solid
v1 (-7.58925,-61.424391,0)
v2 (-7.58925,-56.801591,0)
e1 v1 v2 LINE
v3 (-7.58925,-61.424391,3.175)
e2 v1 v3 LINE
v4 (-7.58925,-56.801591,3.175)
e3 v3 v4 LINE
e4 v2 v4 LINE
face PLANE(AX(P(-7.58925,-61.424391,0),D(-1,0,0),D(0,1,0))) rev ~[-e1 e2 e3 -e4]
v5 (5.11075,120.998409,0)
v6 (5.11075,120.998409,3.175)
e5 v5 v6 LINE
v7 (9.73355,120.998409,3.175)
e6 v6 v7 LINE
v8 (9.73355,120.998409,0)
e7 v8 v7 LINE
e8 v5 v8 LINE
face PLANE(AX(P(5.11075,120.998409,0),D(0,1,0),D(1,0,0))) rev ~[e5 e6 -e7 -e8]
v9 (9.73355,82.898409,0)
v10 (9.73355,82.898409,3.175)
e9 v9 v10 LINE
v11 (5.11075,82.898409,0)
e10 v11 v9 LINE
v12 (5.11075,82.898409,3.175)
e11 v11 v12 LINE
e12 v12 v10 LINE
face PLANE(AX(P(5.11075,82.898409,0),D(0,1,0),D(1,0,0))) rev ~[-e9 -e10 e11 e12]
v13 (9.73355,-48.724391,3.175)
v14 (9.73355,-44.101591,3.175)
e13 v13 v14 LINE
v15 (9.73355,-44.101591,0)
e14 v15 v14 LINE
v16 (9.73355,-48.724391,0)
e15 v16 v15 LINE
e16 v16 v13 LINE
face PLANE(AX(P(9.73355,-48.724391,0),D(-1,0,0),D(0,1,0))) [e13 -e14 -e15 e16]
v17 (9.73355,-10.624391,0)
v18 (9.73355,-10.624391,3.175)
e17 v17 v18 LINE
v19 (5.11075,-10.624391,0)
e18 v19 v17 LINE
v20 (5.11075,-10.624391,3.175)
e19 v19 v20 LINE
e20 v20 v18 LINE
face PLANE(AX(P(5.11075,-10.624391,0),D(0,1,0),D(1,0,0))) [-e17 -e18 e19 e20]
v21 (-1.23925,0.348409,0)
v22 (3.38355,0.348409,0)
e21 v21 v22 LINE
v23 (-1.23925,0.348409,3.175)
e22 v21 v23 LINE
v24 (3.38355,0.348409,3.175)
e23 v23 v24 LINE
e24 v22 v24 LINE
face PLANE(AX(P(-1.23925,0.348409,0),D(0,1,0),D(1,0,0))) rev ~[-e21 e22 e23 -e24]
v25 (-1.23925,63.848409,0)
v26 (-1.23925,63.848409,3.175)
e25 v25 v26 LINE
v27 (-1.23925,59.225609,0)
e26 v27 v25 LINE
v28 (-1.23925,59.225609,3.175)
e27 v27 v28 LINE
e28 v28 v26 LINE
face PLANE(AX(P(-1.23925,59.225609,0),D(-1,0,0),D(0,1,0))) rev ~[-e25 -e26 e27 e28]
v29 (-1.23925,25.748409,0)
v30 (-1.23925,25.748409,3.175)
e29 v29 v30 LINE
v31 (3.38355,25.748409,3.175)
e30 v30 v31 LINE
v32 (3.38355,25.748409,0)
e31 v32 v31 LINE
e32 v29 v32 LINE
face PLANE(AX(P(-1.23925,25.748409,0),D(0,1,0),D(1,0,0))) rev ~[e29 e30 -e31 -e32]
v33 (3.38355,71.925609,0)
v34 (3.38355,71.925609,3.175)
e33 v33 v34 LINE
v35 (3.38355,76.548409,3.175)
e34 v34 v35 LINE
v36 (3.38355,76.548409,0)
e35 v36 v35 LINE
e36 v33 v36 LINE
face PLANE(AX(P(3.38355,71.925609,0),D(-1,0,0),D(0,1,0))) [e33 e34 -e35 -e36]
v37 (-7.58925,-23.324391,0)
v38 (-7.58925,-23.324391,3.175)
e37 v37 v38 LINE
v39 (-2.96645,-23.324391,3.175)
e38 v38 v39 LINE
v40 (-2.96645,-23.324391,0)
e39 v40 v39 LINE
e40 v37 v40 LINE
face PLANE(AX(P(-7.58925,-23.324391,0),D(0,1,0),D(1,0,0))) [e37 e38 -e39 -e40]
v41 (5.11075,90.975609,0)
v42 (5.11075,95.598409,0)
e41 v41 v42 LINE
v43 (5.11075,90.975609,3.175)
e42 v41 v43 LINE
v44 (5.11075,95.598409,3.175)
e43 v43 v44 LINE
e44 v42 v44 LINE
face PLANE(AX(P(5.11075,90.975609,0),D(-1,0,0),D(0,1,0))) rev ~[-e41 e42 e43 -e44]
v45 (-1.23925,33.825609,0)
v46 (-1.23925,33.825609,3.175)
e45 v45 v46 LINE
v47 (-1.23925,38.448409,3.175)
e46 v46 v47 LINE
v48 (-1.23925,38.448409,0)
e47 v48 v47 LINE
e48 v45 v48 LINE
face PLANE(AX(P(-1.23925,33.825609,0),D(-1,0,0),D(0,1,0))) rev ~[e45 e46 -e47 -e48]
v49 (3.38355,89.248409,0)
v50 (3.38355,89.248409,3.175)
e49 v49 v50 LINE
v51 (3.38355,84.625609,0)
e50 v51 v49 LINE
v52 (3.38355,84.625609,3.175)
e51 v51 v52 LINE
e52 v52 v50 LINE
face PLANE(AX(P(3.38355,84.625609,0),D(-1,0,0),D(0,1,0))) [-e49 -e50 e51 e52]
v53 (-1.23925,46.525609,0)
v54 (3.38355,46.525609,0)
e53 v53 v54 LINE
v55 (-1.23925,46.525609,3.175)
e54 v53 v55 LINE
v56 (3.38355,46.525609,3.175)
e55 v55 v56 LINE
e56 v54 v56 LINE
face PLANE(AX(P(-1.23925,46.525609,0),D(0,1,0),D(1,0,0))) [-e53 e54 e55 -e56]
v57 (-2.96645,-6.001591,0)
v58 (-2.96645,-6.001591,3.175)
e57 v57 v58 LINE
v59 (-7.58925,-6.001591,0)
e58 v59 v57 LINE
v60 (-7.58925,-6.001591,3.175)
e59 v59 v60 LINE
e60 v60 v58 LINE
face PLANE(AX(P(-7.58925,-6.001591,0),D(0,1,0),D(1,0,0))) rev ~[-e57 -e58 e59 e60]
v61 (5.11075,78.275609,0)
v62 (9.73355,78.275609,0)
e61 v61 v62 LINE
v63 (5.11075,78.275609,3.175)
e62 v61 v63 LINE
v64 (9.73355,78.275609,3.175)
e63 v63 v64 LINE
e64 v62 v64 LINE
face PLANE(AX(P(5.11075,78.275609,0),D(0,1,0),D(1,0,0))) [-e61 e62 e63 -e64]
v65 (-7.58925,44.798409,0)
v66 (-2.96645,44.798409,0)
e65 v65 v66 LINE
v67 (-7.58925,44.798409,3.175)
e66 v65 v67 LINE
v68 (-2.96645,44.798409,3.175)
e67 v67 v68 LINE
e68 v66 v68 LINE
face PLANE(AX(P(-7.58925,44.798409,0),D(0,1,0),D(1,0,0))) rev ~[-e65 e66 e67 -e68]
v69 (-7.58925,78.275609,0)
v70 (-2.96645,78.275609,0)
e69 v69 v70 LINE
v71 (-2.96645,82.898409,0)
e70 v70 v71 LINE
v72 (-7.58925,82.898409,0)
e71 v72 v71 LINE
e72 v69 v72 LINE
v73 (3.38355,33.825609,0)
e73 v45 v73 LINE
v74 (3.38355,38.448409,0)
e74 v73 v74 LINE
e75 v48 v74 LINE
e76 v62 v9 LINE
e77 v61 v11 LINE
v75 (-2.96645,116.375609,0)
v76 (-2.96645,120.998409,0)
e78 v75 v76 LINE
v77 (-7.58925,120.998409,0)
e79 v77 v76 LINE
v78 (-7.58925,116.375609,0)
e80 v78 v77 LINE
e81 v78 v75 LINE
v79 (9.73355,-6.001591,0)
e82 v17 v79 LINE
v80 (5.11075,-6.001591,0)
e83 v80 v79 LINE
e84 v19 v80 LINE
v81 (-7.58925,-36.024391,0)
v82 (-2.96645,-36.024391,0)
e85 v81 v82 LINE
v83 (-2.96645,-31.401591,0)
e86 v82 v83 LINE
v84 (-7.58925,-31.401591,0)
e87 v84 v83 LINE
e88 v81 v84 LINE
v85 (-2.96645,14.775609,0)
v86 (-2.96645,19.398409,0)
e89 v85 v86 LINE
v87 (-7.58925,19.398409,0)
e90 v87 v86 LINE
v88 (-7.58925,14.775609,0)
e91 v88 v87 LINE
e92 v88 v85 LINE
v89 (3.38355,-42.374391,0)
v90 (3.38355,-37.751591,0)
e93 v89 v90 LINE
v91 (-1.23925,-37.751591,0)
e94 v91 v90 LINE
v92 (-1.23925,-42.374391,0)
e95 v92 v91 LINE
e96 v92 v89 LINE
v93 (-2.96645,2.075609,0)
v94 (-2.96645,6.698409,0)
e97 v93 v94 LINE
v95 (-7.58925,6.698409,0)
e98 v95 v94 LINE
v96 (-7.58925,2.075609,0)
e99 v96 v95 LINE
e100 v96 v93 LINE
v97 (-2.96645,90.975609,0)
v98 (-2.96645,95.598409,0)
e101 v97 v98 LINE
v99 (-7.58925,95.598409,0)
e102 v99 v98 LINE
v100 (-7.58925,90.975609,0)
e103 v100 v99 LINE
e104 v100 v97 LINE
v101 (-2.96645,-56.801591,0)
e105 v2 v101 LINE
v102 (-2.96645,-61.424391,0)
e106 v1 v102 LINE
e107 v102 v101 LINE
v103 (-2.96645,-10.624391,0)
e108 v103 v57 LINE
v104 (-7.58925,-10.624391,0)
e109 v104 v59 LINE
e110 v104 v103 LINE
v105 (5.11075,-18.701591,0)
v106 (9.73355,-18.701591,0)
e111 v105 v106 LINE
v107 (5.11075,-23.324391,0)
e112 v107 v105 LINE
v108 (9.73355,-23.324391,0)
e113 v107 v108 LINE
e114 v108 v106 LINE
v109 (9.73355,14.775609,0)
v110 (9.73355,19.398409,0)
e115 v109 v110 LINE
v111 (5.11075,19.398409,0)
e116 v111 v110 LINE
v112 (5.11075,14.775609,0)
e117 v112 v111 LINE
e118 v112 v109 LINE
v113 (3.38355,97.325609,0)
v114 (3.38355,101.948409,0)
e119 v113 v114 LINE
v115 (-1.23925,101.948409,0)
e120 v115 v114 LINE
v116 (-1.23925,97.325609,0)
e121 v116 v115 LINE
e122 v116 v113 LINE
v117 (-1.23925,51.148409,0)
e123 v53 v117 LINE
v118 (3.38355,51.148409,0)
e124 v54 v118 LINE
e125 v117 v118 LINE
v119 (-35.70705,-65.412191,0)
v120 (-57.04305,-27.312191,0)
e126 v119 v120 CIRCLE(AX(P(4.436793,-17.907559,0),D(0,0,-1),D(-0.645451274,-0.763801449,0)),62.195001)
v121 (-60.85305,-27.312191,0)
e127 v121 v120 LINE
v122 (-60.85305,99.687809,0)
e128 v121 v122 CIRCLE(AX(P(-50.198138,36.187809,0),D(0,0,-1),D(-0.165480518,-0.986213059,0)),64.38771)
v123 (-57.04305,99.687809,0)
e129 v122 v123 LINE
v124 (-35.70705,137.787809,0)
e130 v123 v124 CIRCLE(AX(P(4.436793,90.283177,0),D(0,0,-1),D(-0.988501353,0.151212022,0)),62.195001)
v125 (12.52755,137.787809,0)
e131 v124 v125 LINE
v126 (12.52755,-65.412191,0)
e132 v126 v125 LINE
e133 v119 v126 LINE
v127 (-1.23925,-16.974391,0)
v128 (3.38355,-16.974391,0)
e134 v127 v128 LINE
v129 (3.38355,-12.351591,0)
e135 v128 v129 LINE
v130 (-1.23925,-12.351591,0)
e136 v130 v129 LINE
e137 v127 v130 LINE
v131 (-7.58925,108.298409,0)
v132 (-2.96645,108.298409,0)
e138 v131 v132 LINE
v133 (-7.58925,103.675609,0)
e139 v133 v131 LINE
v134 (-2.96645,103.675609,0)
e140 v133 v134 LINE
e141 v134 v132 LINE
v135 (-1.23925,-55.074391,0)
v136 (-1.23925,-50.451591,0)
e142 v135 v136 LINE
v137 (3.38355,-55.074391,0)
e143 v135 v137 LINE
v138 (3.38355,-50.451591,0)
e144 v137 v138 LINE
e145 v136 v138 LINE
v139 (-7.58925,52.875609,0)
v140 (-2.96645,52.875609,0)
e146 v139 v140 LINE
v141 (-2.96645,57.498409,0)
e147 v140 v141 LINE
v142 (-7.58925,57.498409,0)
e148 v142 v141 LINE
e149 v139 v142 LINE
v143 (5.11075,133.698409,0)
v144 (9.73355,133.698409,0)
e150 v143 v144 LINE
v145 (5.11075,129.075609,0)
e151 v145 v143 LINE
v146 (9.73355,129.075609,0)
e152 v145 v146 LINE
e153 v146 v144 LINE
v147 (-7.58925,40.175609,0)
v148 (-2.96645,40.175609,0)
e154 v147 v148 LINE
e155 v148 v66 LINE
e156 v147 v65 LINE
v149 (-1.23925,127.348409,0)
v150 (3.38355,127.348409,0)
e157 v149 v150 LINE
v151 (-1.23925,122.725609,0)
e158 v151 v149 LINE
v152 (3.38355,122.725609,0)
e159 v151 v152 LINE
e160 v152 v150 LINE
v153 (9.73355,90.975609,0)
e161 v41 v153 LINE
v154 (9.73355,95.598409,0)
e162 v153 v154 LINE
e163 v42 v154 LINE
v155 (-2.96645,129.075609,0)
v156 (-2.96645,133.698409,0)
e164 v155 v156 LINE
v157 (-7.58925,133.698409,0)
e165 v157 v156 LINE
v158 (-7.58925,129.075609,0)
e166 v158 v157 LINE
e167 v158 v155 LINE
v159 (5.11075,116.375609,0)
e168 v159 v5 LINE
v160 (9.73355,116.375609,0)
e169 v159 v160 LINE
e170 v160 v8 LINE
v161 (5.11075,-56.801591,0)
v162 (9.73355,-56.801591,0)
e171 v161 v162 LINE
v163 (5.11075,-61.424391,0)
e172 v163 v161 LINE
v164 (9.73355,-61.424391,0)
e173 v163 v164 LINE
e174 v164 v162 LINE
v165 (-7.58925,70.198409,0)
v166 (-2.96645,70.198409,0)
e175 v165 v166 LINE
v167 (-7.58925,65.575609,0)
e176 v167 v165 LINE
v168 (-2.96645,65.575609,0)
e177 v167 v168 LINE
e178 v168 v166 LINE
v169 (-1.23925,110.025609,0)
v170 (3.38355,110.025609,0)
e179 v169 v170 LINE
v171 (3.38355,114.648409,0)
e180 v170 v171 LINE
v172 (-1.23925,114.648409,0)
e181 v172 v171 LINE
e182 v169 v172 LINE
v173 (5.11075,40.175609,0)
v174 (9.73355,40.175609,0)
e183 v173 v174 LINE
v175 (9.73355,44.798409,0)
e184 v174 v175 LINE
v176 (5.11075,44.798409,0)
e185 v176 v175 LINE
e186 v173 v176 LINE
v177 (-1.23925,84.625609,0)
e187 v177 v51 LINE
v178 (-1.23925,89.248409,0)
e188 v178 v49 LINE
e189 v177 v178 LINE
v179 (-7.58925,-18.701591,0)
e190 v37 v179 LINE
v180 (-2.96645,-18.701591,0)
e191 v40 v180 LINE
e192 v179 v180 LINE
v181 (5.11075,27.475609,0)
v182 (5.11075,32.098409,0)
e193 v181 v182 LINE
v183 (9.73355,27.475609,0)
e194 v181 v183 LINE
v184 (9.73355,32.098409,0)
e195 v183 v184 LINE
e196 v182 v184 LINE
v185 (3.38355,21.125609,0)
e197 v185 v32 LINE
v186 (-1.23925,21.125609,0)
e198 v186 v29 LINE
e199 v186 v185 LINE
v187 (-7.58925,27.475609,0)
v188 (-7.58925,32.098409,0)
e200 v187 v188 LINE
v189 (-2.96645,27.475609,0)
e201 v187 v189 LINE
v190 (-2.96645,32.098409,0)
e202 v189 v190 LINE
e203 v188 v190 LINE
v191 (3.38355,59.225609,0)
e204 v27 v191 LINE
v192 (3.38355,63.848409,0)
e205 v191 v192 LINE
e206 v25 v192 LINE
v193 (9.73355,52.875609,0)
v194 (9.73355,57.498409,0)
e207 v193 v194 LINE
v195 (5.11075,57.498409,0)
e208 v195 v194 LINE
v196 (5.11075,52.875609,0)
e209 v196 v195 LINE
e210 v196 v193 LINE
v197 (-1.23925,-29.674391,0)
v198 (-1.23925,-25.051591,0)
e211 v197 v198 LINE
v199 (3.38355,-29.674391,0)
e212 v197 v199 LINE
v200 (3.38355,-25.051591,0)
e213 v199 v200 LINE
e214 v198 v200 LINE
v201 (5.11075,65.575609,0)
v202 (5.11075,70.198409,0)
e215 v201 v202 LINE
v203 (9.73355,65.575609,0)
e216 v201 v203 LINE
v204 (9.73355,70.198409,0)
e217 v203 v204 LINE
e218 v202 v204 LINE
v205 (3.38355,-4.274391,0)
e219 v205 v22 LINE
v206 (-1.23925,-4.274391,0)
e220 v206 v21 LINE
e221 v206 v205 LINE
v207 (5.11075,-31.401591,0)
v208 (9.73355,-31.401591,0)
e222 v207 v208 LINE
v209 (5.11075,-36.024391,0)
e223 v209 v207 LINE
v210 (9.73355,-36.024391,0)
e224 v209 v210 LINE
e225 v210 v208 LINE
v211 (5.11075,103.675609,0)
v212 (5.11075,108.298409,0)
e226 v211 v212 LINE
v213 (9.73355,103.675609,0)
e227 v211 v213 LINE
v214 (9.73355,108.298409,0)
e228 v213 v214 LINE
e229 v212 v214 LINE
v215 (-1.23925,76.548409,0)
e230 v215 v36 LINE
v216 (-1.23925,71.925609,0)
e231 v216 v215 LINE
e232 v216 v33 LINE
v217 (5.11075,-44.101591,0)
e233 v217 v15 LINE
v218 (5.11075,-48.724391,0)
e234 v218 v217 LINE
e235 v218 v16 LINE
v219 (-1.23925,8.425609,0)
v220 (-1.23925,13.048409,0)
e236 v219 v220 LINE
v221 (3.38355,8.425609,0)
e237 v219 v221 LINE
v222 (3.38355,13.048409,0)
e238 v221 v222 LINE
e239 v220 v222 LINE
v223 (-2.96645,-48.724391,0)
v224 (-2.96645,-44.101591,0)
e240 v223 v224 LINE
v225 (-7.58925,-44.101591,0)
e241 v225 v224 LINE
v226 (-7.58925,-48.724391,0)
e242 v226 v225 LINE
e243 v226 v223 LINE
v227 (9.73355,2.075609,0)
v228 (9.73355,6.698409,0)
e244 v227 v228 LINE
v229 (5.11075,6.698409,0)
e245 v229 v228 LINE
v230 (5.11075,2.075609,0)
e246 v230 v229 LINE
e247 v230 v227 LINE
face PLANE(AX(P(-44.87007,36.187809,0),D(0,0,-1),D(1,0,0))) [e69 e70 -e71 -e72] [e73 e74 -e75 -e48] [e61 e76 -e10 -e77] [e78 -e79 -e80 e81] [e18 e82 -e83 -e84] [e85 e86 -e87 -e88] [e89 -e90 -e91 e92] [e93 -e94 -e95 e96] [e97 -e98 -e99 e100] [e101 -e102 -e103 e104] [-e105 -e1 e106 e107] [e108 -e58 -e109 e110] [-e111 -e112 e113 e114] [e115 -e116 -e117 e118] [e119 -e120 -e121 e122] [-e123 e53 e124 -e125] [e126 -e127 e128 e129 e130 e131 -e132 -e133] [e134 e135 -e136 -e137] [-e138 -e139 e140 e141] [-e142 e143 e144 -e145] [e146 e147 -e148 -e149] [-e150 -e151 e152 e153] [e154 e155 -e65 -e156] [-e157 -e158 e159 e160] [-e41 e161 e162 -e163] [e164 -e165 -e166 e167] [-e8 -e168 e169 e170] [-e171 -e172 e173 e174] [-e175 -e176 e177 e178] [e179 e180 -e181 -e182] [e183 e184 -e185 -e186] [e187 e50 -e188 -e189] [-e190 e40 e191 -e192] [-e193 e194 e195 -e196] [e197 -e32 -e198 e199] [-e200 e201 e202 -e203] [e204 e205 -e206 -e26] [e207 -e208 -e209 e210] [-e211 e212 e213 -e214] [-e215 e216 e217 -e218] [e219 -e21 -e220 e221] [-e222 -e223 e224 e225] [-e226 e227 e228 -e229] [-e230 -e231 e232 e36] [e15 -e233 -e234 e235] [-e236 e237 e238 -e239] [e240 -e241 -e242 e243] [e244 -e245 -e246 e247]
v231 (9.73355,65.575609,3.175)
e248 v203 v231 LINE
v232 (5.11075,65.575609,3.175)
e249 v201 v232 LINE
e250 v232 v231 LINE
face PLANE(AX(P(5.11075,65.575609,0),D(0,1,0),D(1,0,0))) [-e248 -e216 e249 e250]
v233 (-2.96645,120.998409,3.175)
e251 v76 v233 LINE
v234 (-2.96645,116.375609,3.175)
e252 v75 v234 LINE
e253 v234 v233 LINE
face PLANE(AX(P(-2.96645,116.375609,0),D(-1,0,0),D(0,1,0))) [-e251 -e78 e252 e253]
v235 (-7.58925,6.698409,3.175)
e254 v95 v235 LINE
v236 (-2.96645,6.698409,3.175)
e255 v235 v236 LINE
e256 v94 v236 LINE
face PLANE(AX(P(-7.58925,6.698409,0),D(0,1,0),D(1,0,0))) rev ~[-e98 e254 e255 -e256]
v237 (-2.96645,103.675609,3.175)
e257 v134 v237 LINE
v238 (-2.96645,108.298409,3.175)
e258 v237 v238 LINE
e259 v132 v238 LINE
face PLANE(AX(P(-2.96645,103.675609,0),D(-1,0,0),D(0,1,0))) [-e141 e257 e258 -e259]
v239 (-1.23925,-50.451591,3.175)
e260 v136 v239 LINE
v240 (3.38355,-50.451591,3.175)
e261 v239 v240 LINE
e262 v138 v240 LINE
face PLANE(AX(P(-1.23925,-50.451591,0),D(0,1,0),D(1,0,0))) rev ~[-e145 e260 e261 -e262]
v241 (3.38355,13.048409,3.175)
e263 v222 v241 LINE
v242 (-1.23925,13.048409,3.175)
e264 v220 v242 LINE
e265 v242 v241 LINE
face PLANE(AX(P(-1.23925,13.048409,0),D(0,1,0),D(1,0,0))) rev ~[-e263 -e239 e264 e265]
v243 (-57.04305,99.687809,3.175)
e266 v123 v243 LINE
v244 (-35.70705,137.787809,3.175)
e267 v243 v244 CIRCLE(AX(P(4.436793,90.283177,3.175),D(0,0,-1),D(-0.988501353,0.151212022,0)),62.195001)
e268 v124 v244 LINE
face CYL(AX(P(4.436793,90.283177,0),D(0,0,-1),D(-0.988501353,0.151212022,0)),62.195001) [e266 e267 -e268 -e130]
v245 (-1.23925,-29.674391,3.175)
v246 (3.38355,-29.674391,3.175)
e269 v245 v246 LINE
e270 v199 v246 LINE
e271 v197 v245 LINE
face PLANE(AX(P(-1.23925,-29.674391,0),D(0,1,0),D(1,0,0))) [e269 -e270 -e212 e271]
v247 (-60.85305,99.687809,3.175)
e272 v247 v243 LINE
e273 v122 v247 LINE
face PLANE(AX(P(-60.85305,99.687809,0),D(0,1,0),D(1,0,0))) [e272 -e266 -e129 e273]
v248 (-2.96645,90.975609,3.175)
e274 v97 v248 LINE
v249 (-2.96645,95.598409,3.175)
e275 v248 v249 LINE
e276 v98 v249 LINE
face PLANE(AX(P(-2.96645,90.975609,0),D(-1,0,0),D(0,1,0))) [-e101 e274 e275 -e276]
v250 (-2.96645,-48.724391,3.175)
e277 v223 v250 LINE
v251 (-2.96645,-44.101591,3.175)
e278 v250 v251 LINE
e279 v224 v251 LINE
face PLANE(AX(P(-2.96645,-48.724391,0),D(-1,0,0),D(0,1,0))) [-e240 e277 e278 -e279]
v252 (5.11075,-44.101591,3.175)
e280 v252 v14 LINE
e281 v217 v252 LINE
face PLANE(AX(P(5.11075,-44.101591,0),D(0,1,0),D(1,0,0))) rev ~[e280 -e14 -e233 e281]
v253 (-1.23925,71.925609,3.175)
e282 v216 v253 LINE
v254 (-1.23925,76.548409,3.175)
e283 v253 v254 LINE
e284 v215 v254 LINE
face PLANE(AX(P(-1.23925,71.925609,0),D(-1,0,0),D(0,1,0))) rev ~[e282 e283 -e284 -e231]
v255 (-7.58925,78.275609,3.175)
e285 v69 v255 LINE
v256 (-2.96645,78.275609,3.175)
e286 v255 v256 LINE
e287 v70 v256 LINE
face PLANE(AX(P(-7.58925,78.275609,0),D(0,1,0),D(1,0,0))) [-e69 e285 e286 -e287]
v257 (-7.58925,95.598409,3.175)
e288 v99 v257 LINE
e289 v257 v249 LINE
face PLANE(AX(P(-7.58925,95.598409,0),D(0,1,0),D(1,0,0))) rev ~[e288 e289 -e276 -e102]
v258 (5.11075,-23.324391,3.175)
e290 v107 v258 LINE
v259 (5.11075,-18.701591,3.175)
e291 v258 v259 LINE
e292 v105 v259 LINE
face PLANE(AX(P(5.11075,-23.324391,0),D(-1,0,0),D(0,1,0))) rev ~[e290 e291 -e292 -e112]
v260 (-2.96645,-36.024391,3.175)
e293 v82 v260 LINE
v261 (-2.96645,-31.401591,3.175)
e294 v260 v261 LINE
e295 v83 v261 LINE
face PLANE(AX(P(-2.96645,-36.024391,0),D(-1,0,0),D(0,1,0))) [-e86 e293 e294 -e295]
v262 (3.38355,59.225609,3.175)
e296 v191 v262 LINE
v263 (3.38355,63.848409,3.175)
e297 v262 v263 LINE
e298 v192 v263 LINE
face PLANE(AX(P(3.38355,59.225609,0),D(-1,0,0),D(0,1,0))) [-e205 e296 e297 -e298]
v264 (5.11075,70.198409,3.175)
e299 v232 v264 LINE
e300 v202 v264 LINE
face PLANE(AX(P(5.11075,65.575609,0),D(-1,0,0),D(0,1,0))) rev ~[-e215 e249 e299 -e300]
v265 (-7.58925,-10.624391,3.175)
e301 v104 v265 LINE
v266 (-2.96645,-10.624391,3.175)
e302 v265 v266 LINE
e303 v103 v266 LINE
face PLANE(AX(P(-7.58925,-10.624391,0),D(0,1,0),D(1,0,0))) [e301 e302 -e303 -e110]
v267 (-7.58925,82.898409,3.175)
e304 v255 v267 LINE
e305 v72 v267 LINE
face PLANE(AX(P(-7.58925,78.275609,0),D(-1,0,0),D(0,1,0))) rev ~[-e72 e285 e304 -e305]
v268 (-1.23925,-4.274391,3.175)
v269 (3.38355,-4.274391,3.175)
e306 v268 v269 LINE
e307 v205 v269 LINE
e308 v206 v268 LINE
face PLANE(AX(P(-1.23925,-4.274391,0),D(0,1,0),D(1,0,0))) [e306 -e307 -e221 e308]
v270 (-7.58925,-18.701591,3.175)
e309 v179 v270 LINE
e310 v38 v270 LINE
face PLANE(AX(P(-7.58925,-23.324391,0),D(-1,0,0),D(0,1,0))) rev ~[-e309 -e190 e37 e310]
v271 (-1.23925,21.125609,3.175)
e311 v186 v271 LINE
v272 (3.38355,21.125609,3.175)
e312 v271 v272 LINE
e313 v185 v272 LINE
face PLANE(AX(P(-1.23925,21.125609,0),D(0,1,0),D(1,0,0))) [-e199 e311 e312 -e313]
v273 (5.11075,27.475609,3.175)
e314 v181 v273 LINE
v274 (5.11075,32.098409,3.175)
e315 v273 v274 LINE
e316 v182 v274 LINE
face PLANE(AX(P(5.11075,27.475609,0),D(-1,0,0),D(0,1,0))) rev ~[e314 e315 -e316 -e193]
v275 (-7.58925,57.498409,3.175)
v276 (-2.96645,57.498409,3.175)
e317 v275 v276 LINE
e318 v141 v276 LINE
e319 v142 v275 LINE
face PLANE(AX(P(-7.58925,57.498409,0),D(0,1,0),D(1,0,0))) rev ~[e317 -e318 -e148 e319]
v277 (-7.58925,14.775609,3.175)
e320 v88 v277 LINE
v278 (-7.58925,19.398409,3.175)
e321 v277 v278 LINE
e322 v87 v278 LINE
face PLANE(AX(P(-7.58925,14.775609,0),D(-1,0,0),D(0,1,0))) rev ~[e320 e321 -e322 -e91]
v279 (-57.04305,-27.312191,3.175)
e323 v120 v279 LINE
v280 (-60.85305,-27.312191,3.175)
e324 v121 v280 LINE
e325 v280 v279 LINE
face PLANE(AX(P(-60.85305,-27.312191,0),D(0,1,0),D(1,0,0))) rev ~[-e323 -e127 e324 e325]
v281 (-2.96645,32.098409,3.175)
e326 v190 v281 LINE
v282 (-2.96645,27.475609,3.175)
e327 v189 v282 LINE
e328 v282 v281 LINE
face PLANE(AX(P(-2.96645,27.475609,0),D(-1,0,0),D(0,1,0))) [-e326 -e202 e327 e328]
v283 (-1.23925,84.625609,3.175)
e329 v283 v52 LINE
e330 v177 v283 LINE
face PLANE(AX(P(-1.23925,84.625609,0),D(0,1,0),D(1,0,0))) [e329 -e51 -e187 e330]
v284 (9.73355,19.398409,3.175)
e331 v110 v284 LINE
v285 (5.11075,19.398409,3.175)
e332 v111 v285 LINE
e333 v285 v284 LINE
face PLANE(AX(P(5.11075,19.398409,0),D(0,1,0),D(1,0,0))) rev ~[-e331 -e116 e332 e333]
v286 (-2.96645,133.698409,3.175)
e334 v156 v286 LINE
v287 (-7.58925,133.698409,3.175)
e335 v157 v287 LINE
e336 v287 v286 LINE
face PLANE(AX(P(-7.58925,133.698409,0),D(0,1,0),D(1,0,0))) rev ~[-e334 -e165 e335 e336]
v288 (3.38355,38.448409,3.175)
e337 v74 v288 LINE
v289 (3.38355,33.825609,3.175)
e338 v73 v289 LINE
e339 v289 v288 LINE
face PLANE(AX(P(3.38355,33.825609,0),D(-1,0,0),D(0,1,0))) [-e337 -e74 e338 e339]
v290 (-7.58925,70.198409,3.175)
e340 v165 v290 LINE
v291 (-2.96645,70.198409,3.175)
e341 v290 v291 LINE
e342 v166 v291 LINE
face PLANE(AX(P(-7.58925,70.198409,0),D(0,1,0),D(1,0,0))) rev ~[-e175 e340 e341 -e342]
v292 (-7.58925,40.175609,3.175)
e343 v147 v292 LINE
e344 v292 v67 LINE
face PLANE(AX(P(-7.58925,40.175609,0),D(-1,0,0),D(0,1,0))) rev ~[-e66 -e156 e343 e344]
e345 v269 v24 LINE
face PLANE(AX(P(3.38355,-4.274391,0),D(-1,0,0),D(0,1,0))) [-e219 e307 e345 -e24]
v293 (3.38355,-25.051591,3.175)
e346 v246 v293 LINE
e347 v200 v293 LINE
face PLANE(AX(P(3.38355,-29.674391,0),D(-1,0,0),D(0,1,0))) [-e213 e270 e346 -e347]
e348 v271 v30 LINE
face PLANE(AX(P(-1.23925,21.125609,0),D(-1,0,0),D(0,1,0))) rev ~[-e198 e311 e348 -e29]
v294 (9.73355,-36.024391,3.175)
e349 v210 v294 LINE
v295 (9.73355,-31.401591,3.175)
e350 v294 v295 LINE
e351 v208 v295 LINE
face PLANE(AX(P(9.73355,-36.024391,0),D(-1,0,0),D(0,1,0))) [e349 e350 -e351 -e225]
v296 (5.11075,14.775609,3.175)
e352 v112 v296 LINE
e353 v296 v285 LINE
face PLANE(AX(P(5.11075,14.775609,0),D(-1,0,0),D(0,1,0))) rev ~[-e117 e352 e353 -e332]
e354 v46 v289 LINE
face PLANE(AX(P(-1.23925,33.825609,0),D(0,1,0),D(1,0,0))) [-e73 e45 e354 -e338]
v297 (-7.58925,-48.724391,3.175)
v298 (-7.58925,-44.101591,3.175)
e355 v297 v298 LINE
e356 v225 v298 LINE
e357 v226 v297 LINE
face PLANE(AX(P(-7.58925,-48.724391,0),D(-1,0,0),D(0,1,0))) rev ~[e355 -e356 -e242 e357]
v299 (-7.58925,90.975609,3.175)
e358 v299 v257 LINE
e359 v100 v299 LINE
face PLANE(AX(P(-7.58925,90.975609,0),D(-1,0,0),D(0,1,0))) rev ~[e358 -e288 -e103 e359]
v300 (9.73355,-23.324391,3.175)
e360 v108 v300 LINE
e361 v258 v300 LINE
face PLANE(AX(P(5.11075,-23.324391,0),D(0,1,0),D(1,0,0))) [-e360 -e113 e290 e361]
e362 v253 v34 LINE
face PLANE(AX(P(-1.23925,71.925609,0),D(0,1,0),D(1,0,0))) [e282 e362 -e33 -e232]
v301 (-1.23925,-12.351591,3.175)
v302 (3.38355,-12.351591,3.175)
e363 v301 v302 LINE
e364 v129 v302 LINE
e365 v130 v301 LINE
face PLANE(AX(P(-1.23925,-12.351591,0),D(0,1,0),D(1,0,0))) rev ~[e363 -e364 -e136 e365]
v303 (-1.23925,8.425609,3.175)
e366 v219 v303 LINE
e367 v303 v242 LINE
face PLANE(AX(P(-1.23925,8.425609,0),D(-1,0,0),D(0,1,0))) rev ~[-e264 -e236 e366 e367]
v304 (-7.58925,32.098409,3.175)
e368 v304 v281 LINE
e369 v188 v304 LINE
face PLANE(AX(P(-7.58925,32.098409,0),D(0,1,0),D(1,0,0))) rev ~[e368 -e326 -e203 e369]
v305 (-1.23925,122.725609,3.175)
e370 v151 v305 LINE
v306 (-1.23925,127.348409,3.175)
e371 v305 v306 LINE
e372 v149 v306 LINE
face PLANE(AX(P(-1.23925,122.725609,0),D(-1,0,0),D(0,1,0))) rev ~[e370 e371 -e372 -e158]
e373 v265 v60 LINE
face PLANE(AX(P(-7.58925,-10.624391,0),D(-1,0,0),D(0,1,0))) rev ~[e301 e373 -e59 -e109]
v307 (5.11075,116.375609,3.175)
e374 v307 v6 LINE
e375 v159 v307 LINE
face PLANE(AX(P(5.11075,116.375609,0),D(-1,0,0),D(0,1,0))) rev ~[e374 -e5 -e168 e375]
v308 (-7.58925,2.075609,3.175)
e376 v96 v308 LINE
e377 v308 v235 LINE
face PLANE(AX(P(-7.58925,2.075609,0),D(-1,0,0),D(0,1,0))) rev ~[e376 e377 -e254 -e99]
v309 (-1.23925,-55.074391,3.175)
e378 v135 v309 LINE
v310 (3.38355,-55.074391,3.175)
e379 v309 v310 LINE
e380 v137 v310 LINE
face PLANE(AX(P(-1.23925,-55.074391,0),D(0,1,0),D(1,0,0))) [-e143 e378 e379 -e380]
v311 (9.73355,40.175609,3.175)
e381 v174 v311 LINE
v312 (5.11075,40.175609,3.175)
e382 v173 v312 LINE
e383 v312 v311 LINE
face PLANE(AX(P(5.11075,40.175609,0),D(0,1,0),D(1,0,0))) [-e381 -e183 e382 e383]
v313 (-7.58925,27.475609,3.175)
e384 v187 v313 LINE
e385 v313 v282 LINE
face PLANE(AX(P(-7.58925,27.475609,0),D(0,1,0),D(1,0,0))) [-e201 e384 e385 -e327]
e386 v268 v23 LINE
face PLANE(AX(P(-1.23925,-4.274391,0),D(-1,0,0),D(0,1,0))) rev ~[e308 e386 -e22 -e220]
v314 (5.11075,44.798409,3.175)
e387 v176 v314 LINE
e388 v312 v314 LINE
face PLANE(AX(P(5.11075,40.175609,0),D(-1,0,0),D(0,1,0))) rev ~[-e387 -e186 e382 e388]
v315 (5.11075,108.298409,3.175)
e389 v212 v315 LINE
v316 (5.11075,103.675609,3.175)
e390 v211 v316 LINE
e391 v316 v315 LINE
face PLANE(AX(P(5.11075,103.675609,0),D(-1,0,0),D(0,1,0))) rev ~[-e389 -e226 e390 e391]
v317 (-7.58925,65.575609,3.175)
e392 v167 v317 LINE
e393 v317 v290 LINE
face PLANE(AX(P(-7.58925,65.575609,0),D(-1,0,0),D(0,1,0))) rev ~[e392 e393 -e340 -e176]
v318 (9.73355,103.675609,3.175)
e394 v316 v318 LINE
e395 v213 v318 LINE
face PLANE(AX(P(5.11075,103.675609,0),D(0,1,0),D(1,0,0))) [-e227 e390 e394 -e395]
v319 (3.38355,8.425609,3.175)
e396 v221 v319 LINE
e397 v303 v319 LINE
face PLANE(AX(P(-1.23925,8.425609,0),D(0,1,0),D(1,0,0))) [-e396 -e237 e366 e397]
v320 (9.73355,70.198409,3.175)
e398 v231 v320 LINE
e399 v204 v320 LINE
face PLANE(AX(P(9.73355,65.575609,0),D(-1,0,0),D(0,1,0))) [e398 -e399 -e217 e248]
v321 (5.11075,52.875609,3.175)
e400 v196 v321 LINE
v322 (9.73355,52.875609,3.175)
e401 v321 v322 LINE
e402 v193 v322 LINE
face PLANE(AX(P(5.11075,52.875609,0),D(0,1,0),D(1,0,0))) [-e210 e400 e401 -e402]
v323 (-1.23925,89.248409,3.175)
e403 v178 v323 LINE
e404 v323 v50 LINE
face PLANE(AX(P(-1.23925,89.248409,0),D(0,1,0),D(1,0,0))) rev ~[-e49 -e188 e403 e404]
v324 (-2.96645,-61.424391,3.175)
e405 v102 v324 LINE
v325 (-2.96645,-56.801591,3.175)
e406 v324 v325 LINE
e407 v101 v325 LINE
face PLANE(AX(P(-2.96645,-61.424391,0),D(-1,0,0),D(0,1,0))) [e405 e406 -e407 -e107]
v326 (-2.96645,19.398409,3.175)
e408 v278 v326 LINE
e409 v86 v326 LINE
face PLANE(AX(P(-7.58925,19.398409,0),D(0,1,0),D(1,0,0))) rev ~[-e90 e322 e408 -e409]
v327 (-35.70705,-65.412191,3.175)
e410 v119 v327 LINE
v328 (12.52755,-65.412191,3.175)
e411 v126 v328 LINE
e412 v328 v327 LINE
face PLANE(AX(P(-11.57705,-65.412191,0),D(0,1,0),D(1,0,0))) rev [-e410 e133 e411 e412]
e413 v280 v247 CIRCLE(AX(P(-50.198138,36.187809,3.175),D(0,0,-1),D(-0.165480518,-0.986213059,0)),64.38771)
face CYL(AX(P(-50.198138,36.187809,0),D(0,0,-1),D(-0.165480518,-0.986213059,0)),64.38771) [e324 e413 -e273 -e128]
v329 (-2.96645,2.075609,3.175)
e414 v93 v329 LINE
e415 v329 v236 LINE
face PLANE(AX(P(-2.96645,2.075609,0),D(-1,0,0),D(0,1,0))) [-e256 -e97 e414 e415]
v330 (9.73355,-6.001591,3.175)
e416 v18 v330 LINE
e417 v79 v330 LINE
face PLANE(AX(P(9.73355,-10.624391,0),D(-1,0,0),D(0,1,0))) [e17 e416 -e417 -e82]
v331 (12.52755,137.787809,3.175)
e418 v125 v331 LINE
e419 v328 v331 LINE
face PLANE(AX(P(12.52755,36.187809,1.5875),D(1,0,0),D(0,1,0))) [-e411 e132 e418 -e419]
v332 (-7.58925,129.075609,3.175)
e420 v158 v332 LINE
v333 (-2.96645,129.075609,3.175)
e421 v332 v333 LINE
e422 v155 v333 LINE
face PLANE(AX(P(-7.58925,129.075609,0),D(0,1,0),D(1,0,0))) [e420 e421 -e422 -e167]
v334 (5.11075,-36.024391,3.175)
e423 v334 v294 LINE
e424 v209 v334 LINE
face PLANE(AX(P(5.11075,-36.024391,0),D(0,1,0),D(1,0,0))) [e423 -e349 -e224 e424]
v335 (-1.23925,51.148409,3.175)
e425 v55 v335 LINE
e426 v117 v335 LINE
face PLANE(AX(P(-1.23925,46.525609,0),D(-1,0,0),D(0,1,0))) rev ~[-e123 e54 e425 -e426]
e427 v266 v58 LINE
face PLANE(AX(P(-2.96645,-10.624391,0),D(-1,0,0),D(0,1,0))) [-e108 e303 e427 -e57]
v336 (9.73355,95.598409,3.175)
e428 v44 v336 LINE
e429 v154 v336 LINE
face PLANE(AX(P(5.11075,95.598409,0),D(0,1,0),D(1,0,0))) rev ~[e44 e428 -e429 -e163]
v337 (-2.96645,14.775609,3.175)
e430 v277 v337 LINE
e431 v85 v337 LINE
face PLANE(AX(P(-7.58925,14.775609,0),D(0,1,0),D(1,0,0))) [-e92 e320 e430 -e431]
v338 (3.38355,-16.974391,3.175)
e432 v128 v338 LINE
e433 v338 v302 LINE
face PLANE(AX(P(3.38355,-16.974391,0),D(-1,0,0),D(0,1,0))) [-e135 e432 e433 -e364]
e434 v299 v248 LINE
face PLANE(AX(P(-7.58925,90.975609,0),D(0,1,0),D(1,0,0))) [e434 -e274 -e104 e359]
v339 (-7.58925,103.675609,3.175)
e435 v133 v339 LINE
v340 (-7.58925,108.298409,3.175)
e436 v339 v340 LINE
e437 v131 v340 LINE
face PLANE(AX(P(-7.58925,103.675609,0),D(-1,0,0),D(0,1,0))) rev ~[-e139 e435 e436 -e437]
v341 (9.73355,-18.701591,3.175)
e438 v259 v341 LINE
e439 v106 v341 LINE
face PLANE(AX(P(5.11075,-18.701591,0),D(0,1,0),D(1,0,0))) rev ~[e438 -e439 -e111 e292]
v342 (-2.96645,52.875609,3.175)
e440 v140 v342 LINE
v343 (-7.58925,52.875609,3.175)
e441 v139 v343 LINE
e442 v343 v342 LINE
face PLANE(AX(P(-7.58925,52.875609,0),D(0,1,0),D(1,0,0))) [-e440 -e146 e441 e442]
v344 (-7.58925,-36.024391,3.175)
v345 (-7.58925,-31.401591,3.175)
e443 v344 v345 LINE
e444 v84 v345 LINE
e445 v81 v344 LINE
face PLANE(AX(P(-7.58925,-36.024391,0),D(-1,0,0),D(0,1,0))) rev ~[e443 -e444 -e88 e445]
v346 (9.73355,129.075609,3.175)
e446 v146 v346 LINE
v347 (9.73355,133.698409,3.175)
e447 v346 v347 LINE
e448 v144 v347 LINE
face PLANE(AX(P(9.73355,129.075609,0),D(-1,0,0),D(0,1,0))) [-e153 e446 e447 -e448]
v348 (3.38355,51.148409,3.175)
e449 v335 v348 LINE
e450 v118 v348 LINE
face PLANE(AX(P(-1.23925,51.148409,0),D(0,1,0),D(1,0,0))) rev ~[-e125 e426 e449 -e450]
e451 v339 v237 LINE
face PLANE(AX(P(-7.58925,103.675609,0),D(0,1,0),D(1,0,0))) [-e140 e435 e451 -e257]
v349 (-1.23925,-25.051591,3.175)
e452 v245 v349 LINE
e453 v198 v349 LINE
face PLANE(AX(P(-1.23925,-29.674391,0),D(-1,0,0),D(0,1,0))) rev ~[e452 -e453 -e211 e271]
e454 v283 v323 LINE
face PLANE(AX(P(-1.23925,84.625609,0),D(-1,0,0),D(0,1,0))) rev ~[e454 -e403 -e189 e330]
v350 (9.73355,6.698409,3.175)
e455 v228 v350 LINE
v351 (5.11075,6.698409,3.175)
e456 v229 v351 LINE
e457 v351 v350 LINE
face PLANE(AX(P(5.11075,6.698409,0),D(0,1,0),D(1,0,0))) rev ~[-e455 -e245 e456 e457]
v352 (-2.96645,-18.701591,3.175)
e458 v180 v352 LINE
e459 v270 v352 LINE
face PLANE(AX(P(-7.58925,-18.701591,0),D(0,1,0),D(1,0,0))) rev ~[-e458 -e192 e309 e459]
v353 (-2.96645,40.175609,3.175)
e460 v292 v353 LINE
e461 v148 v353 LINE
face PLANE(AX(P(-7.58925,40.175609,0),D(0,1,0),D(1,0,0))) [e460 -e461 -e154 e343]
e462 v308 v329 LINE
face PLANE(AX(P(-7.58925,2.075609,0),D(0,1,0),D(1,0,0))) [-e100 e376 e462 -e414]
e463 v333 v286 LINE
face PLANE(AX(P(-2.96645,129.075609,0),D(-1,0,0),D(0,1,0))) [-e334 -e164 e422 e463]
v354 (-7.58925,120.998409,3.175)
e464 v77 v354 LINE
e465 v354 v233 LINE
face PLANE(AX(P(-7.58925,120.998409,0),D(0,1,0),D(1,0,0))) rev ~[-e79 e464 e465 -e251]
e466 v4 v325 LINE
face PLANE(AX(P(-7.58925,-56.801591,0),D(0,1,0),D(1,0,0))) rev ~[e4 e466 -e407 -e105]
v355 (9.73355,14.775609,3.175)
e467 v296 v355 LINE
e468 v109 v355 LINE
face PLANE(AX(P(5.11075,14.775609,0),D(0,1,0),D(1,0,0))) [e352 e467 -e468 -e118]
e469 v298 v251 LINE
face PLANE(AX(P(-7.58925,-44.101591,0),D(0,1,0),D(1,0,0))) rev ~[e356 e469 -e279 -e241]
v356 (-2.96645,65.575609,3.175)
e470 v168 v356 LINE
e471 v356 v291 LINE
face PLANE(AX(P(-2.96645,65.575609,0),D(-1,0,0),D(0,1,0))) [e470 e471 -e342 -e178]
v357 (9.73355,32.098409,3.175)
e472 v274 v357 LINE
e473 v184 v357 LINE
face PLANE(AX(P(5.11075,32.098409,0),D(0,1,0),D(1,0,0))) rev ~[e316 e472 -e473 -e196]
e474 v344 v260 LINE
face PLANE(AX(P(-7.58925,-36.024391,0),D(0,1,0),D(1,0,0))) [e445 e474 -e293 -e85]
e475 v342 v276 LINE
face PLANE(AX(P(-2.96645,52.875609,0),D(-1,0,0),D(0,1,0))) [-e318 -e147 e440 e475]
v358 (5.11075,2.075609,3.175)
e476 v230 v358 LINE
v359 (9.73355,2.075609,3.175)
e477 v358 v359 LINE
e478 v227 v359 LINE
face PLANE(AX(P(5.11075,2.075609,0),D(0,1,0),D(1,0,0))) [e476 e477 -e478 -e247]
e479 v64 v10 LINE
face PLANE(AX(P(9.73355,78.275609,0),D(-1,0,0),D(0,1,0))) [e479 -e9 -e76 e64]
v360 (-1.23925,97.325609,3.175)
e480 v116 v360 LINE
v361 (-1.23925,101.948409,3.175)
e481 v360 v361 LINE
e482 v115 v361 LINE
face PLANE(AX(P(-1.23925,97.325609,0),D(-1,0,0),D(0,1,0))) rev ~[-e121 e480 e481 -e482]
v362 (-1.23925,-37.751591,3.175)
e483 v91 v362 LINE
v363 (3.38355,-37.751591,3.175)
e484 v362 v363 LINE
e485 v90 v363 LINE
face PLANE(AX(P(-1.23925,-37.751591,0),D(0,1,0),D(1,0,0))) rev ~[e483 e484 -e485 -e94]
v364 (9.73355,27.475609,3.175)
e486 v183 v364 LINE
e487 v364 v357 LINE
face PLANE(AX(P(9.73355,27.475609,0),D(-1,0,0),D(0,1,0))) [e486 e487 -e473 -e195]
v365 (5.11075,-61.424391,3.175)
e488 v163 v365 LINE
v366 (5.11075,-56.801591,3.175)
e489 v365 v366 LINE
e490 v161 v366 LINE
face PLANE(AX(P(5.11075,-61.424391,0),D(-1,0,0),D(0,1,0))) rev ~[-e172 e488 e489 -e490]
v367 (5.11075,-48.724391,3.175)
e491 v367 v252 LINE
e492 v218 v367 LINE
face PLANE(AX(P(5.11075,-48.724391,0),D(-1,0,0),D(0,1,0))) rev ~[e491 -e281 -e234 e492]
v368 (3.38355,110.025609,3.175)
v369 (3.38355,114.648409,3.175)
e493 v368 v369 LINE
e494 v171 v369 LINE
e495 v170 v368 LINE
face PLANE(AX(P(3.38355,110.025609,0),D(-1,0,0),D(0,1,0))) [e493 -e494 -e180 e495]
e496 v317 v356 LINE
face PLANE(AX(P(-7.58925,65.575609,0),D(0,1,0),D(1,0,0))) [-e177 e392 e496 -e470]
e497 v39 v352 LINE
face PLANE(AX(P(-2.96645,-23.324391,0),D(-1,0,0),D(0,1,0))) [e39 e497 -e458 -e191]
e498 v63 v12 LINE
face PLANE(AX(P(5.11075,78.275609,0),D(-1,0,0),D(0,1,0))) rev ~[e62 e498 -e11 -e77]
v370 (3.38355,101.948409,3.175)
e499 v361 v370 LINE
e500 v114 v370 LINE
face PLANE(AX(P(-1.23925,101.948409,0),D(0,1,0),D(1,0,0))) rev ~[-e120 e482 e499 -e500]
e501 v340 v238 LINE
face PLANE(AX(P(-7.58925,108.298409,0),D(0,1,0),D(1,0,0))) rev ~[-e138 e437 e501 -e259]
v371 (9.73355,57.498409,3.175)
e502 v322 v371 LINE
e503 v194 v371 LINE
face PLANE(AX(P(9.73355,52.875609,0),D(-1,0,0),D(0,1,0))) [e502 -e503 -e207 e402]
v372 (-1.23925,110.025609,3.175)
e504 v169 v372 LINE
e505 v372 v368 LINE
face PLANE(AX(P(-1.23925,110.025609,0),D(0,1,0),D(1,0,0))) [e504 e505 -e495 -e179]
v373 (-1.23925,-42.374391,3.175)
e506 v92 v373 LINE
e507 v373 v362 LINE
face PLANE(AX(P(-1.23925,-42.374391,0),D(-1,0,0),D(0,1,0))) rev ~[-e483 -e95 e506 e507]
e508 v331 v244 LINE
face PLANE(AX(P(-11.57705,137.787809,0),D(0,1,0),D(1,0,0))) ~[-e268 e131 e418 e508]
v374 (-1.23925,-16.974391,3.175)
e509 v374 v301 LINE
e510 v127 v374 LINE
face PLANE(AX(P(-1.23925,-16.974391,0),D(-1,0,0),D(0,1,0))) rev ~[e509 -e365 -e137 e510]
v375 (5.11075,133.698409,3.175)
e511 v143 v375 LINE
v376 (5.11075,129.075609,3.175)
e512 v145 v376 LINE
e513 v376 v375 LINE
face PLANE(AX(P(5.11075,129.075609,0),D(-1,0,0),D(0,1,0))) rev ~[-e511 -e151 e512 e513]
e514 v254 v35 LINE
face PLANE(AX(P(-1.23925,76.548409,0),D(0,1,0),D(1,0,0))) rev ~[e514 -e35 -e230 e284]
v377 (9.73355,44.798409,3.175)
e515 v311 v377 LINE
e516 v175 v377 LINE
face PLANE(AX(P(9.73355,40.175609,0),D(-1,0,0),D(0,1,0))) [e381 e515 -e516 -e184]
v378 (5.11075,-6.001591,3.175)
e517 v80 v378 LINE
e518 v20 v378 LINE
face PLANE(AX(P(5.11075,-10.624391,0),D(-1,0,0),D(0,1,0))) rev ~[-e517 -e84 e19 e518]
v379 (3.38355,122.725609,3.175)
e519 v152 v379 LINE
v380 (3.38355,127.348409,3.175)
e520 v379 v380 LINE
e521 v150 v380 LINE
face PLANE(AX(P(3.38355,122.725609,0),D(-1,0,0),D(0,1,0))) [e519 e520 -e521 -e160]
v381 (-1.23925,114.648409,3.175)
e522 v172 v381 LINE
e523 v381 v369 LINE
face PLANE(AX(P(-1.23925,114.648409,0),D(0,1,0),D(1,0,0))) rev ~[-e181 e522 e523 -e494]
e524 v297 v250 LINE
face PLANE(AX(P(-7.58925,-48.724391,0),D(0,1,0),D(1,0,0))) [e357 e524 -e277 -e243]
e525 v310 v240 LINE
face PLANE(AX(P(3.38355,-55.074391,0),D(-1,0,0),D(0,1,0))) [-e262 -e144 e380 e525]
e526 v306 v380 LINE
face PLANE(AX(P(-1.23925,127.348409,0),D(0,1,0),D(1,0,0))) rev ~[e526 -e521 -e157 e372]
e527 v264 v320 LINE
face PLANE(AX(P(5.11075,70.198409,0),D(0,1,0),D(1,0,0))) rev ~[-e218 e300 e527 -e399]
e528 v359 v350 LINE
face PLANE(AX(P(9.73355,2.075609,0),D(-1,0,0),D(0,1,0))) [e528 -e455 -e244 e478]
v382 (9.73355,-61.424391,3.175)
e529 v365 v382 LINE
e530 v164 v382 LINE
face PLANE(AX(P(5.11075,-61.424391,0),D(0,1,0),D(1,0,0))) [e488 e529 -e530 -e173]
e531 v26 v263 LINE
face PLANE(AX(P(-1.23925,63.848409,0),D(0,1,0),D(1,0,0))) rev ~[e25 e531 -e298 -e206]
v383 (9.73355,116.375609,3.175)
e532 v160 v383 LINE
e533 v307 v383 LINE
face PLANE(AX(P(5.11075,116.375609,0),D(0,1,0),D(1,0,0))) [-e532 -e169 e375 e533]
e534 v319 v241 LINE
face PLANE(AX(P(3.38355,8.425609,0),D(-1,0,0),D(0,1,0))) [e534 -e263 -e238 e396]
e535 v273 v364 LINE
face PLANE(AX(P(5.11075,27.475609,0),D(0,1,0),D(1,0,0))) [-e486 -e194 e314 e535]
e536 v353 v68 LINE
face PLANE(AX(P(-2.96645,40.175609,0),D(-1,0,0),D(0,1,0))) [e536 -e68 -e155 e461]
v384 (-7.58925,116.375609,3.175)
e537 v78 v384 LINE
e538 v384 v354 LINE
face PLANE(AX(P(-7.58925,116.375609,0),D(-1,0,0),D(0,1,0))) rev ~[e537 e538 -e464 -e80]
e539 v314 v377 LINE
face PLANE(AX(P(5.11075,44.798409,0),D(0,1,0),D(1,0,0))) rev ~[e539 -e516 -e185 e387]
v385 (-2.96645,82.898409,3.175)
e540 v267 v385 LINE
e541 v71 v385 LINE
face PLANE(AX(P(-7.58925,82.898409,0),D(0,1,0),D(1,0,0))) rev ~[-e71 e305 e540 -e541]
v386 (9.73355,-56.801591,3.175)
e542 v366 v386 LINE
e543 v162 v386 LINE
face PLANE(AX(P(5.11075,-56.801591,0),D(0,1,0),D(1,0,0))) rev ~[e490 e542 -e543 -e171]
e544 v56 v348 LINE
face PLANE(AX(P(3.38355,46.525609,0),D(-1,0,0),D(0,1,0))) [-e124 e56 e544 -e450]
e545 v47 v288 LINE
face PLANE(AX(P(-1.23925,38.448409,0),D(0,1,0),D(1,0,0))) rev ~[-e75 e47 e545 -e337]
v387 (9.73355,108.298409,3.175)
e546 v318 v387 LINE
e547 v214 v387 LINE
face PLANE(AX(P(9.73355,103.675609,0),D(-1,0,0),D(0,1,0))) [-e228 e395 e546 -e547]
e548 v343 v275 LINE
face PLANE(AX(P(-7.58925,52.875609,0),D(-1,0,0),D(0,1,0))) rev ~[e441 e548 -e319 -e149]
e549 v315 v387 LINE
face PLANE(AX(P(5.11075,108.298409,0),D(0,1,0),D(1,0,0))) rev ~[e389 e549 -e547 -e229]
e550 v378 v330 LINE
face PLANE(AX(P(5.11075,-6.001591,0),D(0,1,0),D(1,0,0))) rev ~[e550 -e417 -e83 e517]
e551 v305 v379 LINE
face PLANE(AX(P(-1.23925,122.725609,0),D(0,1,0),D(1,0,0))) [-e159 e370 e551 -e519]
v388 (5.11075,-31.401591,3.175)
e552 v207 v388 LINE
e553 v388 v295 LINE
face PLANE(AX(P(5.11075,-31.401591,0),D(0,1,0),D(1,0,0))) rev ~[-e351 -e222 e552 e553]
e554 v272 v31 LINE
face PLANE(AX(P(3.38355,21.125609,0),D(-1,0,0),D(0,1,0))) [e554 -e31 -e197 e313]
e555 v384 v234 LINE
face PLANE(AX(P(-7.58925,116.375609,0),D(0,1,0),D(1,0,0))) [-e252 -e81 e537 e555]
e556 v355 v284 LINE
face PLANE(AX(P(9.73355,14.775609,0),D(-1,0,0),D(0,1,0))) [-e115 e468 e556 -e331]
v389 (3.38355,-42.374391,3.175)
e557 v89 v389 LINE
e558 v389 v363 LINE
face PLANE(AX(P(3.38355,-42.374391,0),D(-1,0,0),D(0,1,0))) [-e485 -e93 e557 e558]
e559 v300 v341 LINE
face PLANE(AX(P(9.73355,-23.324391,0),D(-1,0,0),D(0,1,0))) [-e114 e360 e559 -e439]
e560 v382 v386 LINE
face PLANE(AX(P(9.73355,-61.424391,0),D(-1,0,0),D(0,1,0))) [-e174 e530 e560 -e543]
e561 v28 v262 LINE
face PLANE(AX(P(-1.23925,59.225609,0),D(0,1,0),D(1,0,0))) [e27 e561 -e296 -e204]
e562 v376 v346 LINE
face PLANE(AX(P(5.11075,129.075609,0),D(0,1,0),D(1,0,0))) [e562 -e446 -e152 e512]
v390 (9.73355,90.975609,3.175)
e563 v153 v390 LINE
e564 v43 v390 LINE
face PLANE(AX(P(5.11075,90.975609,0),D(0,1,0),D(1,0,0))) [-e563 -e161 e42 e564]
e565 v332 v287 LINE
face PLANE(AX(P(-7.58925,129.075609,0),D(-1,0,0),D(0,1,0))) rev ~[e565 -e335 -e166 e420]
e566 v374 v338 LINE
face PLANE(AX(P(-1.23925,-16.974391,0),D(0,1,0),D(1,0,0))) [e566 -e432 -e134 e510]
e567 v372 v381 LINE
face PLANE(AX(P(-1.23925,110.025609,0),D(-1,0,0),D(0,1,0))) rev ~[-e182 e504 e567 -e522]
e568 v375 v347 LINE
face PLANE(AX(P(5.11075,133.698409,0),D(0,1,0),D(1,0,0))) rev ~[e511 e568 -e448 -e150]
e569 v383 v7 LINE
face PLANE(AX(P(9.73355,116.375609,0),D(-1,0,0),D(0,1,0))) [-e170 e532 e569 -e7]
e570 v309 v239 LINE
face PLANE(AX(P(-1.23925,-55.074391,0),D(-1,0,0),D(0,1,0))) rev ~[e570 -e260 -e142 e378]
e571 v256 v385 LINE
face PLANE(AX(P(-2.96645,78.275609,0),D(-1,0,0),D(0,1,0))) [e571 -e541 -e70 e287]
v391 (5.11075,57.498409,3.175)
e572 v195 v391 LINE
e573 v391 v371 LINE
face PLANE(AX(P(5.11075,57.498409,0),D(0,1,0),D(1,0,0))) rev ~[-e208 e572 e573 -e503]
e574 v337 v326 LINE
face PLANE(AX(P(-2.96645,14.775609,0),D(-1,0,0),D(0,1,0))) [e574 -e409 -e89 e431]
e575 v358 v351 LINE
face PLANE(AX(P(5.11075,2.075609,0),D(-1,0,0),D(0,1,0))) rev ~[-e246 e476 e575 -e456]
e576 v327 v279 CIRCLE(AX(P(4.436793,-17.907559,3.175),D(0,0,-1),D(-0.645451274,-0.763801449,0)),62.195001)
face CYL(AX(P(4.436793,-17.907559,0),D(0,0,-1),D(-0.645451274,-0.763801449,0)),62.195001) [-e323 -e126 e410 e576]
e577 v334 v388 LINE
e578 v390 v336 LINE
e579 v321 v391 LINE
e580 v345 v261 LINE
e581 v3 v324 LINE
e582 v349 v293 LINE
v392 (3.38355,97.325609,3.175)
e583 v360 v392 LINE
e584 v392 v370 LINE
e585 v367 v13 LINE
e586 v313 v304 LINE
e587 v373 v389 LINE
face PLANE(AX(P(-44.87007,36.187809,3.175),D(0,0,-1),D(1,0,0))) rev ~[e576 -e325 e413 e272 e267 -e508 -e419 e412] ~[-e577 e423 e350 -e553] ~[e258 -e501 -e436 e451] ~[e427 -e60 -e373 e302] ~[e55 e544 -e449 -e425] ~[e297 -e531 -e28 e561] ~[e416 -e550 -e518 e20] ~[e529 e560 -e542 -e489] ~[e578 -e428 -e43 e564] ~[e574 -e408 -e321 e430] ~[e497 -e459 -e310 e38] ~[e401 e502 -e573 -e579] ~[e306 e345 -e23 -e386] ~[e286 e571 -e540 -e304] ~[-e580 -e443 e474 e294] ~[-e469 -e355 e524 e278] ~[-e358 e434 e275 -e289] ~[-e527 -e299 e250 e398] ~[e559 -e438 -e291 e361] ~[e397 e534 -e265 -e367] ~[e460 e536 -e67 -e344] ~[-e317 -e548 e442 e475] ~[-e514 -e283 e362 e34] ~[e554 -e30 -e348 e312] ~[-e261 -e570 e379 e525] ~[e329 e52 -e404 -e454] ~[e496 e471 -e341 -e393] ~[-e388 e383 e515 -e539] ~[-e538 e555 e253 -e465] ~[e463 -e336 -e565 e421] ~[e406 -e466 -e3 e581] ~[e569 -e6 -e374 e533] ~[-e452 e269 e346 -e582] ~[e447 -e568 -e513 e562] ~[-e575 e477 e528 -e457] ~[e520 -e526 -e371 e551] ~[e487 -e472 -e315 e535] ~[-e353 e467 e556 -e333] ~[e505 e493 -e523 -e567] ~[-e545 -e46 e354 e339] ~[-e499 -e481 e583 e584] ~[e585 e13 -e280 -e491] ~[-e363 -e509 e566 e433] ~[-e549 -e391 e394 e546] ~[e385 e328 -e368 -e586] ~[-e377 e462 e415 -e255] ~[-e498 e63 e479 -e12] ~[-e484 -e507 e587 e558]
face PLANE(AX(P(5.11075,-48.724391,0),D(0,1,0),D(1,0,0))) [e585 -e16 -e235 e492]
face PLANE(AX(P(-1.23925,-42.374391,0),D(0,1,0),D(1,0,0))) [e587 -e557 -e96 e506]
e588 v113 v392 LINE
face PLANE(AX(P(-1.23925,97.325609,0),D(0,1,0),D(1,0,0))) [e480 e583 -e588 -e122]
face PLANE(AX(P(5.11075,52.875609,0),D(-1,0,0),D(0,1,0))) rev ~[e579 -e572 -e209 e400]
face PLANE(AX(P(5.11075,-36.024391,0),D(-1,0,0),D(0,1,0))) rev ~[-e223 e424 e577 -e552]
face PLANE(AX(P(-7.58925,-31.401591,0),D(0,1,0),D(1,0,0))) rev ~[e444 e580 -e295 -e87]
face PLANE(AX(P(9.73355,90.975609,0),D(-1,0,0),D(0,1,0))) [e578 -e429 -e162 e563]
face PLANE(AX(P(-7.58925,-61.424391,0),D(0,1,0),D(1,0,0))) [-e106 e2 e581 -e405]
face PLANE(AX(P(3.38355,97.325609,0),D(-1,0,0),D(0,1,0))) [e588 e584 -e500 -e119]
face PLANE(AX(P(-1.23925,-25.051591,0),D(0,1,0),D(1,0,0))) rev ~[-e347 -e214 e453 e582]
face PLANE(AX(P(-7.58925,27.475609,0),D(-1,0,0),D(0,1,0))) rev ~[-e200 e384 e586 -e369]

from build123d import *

# Parameters (mm, degrees)
F0_W      = 24.13
F0_H      = 203.2
F0_W_2    = 4.6228
F0_H_2    = 4.6228
F1_DEPTH  = 3.175
F3_W      = 3.81
F3_H      = 127
F4_DEPTH  = 3.175
F5_W      = 24.13
F5_H      = 203.2
F6_DEPTH  = 3.175
F1_FACE_W = 203.2
F1_FACE_H = 3.175
F9_DEPTH  = 0.0254


with BuildPart() as f1:
    # F0 (on Top) → F1 (new body)
    with BuildSketch(Plane.XY):
        with Locations((0.48795, 36.187809)):
            Rectangle(F0_W, F0_H)
        with Locations((-5.27785, -59.112991)):
            Rectangle(F0_W_2, F0_H_2, mode=Mode.SUBTRACT)
        with Locations((-5.27785, -46.412991)):
            Rectangle(F0_W_2, F0_H_2, mode=Mode.SUBTRACT)
        with Locations((-5.27785, -33.712991)):
            Rectangle(F0_W_2, F0_H_2, mode=Mode.SUBTRACT)
        with Locations((-5.27785, -21.012991)):
            Rectangle(F0_W_2, F0_H_2, mode=Mode.SUBTRACT)
        with Locations((-5.27785, -8.312991)):
            Rectangle(F0_W_2, F0_H_2, mode=Mode.SUBTRACT)
        with Locations((-5.27785, 4.387009)):
            Rectangle(F0_W_2, F0_H_2, mode=Mode.SUBTRACT)
        with Locations((-5.27785, 17.087009)):
            Rectangle(F0_W_2, F0_H_2, mode=Mode.SUBTRACT)
        with Locations((-5.27785, 29.787009)):
            Rectangle(F0_W_2, F0_H_2, mode=Mode.SUBTRACT)
        with Locations((1.07215, -52.762991)):
            Rectangle(F0_W_2, F0_H_2, mode=Mode.SUBTRACT)
        with Locations((1.07215, -40.062991)):
            Rectangle(F0_W_2, F0_H_2, mode=Mode.SUBTRACT)
        with Locations((1.07215, -27.362991)):
            Rectangle(F0_W_2, F0_H_2, mode=Mode.SUBTRACT)
        with Locations((1.07215, -14.662991)):
            Rectangle(F0_W_2, F0_H_2, mode=Mode.SUBTRACT)
        with Locations((7.42215, -59.112991)):
            Rectangle(F0_W_2, F0_H_2, mode=Mode.SUBTRACT)
        with Locations((7.42215, -46.412991)):
            Rectangle(F0_W_2, F0_H_2, mode=Mode.SUBTRACT)
        with Locations((7.42215, -33.712991)):
            Rectangle(F0_W_2, F0_H_2, mode=Mode.SUBTRACT)
        with Locations((7.42215, -21.012991)):
            Rectangle(F0_W_2, F0_H_2, mode=Mode.SUBTRACT)
        with Locations((1.07215, -1.962991)):
            Rectangle(F0_W_2, F0_H_2, mode=Mode.SUBTRACT)
        with Locations((1.07215, 10.737009)):
            Rectangle(F0_W_2, F0_H_2, mode=Mode.SUBTRACT)
        with Locations((1.07215, 23.437009)):
            Rectangle(F0_W_2, F0_H_2, mode=Mode.SUBTRACT)
        with Locations((1.07215, 36.137009)):
            Rectangle(F0_W_2, F0_H_2, mode=Mode.SUBTRACT)
        with Locations((7.42215, -8.312991)):
            Rectangle(F0_W_2, F0_H_2, mode=Mode.SUBTRACT)
        with Locations((7.42215, 4.387009)):
            Rectangle(F0_W_2, F0_H_2, mode=Mode.SUBTRACT)
        with Locations((7.42215, 17.087009)):
            Rectangle(F0_W_2, F0_H_2, mode=Mode.SUBTRACT)
        with Locations((7.42215, 29.787009)):
            Rectangle(F0_W_2, F0_H_2, mode=Mode.SUBTRACT)
        with Locations((-5.27785, 42.487009)):
            Rectangle(F0_W_2, F0_H_2, mode=Mode.SUBTRACT)
        with Locations((-5.27785, 55.187009)):
            Rectangle(F0_W_2, F0_H_2, mode=Mode.SUBTRACT)
        with Locations((-5.27785, 67.887009)):
            Rectangle(F0_W_2, F0_H_2, mode=Mode.SUBTRACT)
        with Locations((-5.27785, 80.587009)):
            Rectangle(F0_W_2, F0_H_2, mode=Mode.SUBTRACT)
        with Locations((-5.27785, 93.287009)):
            Rectangle(F0_W_2, F0_H_2, mode=Mode.SUBTRACT)
        with Locations((-5.27785, 105.987009)):
            Rectangle(F0_W_2, F0_H_2, mode=Mode.SUBTRACT)
        with Locations((-5.27785, 118.687009)):
            Rectangle(F0_W_2, F0_H_2, mode=Mode.SUBTRACT)
        with Locations((-5.27785, 131.387009)):
            Rectangle(F0_W_2, F0_H_2, mode=Mode.SUBTRACT)
        with Locations((1.07215, 48.837009)):
            Rectangle(F0_W_2, F0_H_2, mode=Mode.SUBTRACT)
        with Locations((1.07215, 61.537009)):
            Rectangle(F0_W_2, F0_H_2, mode=Mode.SUBTRACT)
        with Locations((1.07215, 74.237009)):
            Rectangle(F0_W_2, F0_H_2, mode=Mode.SUBTRACT)
        with Locations((1.07215, 86.937009)):
            Rectangle(F0_W_2, F0_H_2, mode=Mode.SUBTRACT)
        with Locations((7.42215, 42.487009)):
            Rectangle(F0_W_2, F0_H_2, mode=Mode.SUBTRACT)
        with Locations((7.42215, 55.187009)):
            Rectangle(F0_W_2, F0_H_2, mode=Mode.SUBTRACT)
        with Locations((7.42215, 67.887009)):
            Rectangle(F0_W_2, F0_H_2, mode=Mode.SUBTRACT)
        with Locations((7.42215, 80.587009)):
            Rectangle(F0_W_2, F0_H_2, mode=Mode.SUBTRACT)
        with Locations((1.07215, 99.637009)):
            Rectangle(F0_W_2, F0_H_2, mode=Mode.SUBTRACT)
        with Locations((1.07215, 112.337009)):
            Rectangle(F0_W_2, F0_H_2, mode=Mode.SUBTRACT)
        with Locations((1.07215, 125.037009)):
            Rectangle(F0_W_2, F0_H_2, mode=Mode.SUBTRACT)
        with Locations((7.42215, 93.287009)):
            Rectangle(F0_W_2, F0_H_2, mode=Mode.SUBTRACT)
        with Locations((7.42215, 105.987009)):
            Rectangle(F0_W_2, F0_H_2, mode=Mode.SUBTRACT)
        with Locations((7.42215, 118.687009)):
            Rectangle(F0_W_2, F0_H_2, mode=Mode.SUBTRACT)
        with Locations((7.42215, 131.387009)):
            Rectangle(F0_W_2, F0_H_2, mode=Mode.SUBTRACT)
    extrude(amount=F1_DEPTH)

    # F2: F1 across face


with BuildPart() as f1_1:
    add(f1.part)
    add(f1.part.mirror(Plane(origin=(-11.57705, 36.187809, 1.5875), x_dir=(0, -1, 0), z_dir=(-1, 0, 0))))

    # F3 (on face) → F4 (join)
    with BuildSketch(Plane(origin=(0, 0, 0), x_dir=(1, 0, 0), z_dir=(0, 0, -1))):
        with BuildLine():
            Line((-35.70705, -137.787809), (-35.70705, 65.412191))
            ThreePointArc((-35.70705, 65.412191), (-49.82872, 48.296246), (-57.04305, 27.312191))
            Line((-57.04305, 27.312191), (-57.04305, -99.687809))
            ThreePointArc((-57.04305, -99.687809), (-49.82872, -120.671864), (-35.70705, -137.787809))
        make_face()
        with Locations((-58.94805, -36.187809)):
            Rectangle(F3_W, F3_H)
        with BuildLine():
            Line((-60.85305, -99.687809), (-60.85305, 27.312191))
            ThreePointArc((-60.85305, 27.312191), (-114.585848, -36.187809), (-60.85305, -99.687809))
        make_face()
    extrude(amount=-F4_DEPTH)

    # F5 (on face) → F6 (join)
    with BuildSketch(Plane.XY.offset(3.175)):
        with Locations((-23.64205, 36.187809)):
            Rectangle(F5_W, F5_H)
    extrude(amount=-F6_DEPTH)

    # F1_face (on face) → F9 (cut)
    with BuildSketch(Plane(origin=(12.55295, 36.187809, 1.5875), x_dir=(0, 1, 0), z_dir=(1, 0, 0))):
        Rectangle(F1_FACE_W, F1_FACE_H)
    extrude(amount=-F9_DEPTH, mode=Mode.SUBTRACT)


solid = f1_1.part
